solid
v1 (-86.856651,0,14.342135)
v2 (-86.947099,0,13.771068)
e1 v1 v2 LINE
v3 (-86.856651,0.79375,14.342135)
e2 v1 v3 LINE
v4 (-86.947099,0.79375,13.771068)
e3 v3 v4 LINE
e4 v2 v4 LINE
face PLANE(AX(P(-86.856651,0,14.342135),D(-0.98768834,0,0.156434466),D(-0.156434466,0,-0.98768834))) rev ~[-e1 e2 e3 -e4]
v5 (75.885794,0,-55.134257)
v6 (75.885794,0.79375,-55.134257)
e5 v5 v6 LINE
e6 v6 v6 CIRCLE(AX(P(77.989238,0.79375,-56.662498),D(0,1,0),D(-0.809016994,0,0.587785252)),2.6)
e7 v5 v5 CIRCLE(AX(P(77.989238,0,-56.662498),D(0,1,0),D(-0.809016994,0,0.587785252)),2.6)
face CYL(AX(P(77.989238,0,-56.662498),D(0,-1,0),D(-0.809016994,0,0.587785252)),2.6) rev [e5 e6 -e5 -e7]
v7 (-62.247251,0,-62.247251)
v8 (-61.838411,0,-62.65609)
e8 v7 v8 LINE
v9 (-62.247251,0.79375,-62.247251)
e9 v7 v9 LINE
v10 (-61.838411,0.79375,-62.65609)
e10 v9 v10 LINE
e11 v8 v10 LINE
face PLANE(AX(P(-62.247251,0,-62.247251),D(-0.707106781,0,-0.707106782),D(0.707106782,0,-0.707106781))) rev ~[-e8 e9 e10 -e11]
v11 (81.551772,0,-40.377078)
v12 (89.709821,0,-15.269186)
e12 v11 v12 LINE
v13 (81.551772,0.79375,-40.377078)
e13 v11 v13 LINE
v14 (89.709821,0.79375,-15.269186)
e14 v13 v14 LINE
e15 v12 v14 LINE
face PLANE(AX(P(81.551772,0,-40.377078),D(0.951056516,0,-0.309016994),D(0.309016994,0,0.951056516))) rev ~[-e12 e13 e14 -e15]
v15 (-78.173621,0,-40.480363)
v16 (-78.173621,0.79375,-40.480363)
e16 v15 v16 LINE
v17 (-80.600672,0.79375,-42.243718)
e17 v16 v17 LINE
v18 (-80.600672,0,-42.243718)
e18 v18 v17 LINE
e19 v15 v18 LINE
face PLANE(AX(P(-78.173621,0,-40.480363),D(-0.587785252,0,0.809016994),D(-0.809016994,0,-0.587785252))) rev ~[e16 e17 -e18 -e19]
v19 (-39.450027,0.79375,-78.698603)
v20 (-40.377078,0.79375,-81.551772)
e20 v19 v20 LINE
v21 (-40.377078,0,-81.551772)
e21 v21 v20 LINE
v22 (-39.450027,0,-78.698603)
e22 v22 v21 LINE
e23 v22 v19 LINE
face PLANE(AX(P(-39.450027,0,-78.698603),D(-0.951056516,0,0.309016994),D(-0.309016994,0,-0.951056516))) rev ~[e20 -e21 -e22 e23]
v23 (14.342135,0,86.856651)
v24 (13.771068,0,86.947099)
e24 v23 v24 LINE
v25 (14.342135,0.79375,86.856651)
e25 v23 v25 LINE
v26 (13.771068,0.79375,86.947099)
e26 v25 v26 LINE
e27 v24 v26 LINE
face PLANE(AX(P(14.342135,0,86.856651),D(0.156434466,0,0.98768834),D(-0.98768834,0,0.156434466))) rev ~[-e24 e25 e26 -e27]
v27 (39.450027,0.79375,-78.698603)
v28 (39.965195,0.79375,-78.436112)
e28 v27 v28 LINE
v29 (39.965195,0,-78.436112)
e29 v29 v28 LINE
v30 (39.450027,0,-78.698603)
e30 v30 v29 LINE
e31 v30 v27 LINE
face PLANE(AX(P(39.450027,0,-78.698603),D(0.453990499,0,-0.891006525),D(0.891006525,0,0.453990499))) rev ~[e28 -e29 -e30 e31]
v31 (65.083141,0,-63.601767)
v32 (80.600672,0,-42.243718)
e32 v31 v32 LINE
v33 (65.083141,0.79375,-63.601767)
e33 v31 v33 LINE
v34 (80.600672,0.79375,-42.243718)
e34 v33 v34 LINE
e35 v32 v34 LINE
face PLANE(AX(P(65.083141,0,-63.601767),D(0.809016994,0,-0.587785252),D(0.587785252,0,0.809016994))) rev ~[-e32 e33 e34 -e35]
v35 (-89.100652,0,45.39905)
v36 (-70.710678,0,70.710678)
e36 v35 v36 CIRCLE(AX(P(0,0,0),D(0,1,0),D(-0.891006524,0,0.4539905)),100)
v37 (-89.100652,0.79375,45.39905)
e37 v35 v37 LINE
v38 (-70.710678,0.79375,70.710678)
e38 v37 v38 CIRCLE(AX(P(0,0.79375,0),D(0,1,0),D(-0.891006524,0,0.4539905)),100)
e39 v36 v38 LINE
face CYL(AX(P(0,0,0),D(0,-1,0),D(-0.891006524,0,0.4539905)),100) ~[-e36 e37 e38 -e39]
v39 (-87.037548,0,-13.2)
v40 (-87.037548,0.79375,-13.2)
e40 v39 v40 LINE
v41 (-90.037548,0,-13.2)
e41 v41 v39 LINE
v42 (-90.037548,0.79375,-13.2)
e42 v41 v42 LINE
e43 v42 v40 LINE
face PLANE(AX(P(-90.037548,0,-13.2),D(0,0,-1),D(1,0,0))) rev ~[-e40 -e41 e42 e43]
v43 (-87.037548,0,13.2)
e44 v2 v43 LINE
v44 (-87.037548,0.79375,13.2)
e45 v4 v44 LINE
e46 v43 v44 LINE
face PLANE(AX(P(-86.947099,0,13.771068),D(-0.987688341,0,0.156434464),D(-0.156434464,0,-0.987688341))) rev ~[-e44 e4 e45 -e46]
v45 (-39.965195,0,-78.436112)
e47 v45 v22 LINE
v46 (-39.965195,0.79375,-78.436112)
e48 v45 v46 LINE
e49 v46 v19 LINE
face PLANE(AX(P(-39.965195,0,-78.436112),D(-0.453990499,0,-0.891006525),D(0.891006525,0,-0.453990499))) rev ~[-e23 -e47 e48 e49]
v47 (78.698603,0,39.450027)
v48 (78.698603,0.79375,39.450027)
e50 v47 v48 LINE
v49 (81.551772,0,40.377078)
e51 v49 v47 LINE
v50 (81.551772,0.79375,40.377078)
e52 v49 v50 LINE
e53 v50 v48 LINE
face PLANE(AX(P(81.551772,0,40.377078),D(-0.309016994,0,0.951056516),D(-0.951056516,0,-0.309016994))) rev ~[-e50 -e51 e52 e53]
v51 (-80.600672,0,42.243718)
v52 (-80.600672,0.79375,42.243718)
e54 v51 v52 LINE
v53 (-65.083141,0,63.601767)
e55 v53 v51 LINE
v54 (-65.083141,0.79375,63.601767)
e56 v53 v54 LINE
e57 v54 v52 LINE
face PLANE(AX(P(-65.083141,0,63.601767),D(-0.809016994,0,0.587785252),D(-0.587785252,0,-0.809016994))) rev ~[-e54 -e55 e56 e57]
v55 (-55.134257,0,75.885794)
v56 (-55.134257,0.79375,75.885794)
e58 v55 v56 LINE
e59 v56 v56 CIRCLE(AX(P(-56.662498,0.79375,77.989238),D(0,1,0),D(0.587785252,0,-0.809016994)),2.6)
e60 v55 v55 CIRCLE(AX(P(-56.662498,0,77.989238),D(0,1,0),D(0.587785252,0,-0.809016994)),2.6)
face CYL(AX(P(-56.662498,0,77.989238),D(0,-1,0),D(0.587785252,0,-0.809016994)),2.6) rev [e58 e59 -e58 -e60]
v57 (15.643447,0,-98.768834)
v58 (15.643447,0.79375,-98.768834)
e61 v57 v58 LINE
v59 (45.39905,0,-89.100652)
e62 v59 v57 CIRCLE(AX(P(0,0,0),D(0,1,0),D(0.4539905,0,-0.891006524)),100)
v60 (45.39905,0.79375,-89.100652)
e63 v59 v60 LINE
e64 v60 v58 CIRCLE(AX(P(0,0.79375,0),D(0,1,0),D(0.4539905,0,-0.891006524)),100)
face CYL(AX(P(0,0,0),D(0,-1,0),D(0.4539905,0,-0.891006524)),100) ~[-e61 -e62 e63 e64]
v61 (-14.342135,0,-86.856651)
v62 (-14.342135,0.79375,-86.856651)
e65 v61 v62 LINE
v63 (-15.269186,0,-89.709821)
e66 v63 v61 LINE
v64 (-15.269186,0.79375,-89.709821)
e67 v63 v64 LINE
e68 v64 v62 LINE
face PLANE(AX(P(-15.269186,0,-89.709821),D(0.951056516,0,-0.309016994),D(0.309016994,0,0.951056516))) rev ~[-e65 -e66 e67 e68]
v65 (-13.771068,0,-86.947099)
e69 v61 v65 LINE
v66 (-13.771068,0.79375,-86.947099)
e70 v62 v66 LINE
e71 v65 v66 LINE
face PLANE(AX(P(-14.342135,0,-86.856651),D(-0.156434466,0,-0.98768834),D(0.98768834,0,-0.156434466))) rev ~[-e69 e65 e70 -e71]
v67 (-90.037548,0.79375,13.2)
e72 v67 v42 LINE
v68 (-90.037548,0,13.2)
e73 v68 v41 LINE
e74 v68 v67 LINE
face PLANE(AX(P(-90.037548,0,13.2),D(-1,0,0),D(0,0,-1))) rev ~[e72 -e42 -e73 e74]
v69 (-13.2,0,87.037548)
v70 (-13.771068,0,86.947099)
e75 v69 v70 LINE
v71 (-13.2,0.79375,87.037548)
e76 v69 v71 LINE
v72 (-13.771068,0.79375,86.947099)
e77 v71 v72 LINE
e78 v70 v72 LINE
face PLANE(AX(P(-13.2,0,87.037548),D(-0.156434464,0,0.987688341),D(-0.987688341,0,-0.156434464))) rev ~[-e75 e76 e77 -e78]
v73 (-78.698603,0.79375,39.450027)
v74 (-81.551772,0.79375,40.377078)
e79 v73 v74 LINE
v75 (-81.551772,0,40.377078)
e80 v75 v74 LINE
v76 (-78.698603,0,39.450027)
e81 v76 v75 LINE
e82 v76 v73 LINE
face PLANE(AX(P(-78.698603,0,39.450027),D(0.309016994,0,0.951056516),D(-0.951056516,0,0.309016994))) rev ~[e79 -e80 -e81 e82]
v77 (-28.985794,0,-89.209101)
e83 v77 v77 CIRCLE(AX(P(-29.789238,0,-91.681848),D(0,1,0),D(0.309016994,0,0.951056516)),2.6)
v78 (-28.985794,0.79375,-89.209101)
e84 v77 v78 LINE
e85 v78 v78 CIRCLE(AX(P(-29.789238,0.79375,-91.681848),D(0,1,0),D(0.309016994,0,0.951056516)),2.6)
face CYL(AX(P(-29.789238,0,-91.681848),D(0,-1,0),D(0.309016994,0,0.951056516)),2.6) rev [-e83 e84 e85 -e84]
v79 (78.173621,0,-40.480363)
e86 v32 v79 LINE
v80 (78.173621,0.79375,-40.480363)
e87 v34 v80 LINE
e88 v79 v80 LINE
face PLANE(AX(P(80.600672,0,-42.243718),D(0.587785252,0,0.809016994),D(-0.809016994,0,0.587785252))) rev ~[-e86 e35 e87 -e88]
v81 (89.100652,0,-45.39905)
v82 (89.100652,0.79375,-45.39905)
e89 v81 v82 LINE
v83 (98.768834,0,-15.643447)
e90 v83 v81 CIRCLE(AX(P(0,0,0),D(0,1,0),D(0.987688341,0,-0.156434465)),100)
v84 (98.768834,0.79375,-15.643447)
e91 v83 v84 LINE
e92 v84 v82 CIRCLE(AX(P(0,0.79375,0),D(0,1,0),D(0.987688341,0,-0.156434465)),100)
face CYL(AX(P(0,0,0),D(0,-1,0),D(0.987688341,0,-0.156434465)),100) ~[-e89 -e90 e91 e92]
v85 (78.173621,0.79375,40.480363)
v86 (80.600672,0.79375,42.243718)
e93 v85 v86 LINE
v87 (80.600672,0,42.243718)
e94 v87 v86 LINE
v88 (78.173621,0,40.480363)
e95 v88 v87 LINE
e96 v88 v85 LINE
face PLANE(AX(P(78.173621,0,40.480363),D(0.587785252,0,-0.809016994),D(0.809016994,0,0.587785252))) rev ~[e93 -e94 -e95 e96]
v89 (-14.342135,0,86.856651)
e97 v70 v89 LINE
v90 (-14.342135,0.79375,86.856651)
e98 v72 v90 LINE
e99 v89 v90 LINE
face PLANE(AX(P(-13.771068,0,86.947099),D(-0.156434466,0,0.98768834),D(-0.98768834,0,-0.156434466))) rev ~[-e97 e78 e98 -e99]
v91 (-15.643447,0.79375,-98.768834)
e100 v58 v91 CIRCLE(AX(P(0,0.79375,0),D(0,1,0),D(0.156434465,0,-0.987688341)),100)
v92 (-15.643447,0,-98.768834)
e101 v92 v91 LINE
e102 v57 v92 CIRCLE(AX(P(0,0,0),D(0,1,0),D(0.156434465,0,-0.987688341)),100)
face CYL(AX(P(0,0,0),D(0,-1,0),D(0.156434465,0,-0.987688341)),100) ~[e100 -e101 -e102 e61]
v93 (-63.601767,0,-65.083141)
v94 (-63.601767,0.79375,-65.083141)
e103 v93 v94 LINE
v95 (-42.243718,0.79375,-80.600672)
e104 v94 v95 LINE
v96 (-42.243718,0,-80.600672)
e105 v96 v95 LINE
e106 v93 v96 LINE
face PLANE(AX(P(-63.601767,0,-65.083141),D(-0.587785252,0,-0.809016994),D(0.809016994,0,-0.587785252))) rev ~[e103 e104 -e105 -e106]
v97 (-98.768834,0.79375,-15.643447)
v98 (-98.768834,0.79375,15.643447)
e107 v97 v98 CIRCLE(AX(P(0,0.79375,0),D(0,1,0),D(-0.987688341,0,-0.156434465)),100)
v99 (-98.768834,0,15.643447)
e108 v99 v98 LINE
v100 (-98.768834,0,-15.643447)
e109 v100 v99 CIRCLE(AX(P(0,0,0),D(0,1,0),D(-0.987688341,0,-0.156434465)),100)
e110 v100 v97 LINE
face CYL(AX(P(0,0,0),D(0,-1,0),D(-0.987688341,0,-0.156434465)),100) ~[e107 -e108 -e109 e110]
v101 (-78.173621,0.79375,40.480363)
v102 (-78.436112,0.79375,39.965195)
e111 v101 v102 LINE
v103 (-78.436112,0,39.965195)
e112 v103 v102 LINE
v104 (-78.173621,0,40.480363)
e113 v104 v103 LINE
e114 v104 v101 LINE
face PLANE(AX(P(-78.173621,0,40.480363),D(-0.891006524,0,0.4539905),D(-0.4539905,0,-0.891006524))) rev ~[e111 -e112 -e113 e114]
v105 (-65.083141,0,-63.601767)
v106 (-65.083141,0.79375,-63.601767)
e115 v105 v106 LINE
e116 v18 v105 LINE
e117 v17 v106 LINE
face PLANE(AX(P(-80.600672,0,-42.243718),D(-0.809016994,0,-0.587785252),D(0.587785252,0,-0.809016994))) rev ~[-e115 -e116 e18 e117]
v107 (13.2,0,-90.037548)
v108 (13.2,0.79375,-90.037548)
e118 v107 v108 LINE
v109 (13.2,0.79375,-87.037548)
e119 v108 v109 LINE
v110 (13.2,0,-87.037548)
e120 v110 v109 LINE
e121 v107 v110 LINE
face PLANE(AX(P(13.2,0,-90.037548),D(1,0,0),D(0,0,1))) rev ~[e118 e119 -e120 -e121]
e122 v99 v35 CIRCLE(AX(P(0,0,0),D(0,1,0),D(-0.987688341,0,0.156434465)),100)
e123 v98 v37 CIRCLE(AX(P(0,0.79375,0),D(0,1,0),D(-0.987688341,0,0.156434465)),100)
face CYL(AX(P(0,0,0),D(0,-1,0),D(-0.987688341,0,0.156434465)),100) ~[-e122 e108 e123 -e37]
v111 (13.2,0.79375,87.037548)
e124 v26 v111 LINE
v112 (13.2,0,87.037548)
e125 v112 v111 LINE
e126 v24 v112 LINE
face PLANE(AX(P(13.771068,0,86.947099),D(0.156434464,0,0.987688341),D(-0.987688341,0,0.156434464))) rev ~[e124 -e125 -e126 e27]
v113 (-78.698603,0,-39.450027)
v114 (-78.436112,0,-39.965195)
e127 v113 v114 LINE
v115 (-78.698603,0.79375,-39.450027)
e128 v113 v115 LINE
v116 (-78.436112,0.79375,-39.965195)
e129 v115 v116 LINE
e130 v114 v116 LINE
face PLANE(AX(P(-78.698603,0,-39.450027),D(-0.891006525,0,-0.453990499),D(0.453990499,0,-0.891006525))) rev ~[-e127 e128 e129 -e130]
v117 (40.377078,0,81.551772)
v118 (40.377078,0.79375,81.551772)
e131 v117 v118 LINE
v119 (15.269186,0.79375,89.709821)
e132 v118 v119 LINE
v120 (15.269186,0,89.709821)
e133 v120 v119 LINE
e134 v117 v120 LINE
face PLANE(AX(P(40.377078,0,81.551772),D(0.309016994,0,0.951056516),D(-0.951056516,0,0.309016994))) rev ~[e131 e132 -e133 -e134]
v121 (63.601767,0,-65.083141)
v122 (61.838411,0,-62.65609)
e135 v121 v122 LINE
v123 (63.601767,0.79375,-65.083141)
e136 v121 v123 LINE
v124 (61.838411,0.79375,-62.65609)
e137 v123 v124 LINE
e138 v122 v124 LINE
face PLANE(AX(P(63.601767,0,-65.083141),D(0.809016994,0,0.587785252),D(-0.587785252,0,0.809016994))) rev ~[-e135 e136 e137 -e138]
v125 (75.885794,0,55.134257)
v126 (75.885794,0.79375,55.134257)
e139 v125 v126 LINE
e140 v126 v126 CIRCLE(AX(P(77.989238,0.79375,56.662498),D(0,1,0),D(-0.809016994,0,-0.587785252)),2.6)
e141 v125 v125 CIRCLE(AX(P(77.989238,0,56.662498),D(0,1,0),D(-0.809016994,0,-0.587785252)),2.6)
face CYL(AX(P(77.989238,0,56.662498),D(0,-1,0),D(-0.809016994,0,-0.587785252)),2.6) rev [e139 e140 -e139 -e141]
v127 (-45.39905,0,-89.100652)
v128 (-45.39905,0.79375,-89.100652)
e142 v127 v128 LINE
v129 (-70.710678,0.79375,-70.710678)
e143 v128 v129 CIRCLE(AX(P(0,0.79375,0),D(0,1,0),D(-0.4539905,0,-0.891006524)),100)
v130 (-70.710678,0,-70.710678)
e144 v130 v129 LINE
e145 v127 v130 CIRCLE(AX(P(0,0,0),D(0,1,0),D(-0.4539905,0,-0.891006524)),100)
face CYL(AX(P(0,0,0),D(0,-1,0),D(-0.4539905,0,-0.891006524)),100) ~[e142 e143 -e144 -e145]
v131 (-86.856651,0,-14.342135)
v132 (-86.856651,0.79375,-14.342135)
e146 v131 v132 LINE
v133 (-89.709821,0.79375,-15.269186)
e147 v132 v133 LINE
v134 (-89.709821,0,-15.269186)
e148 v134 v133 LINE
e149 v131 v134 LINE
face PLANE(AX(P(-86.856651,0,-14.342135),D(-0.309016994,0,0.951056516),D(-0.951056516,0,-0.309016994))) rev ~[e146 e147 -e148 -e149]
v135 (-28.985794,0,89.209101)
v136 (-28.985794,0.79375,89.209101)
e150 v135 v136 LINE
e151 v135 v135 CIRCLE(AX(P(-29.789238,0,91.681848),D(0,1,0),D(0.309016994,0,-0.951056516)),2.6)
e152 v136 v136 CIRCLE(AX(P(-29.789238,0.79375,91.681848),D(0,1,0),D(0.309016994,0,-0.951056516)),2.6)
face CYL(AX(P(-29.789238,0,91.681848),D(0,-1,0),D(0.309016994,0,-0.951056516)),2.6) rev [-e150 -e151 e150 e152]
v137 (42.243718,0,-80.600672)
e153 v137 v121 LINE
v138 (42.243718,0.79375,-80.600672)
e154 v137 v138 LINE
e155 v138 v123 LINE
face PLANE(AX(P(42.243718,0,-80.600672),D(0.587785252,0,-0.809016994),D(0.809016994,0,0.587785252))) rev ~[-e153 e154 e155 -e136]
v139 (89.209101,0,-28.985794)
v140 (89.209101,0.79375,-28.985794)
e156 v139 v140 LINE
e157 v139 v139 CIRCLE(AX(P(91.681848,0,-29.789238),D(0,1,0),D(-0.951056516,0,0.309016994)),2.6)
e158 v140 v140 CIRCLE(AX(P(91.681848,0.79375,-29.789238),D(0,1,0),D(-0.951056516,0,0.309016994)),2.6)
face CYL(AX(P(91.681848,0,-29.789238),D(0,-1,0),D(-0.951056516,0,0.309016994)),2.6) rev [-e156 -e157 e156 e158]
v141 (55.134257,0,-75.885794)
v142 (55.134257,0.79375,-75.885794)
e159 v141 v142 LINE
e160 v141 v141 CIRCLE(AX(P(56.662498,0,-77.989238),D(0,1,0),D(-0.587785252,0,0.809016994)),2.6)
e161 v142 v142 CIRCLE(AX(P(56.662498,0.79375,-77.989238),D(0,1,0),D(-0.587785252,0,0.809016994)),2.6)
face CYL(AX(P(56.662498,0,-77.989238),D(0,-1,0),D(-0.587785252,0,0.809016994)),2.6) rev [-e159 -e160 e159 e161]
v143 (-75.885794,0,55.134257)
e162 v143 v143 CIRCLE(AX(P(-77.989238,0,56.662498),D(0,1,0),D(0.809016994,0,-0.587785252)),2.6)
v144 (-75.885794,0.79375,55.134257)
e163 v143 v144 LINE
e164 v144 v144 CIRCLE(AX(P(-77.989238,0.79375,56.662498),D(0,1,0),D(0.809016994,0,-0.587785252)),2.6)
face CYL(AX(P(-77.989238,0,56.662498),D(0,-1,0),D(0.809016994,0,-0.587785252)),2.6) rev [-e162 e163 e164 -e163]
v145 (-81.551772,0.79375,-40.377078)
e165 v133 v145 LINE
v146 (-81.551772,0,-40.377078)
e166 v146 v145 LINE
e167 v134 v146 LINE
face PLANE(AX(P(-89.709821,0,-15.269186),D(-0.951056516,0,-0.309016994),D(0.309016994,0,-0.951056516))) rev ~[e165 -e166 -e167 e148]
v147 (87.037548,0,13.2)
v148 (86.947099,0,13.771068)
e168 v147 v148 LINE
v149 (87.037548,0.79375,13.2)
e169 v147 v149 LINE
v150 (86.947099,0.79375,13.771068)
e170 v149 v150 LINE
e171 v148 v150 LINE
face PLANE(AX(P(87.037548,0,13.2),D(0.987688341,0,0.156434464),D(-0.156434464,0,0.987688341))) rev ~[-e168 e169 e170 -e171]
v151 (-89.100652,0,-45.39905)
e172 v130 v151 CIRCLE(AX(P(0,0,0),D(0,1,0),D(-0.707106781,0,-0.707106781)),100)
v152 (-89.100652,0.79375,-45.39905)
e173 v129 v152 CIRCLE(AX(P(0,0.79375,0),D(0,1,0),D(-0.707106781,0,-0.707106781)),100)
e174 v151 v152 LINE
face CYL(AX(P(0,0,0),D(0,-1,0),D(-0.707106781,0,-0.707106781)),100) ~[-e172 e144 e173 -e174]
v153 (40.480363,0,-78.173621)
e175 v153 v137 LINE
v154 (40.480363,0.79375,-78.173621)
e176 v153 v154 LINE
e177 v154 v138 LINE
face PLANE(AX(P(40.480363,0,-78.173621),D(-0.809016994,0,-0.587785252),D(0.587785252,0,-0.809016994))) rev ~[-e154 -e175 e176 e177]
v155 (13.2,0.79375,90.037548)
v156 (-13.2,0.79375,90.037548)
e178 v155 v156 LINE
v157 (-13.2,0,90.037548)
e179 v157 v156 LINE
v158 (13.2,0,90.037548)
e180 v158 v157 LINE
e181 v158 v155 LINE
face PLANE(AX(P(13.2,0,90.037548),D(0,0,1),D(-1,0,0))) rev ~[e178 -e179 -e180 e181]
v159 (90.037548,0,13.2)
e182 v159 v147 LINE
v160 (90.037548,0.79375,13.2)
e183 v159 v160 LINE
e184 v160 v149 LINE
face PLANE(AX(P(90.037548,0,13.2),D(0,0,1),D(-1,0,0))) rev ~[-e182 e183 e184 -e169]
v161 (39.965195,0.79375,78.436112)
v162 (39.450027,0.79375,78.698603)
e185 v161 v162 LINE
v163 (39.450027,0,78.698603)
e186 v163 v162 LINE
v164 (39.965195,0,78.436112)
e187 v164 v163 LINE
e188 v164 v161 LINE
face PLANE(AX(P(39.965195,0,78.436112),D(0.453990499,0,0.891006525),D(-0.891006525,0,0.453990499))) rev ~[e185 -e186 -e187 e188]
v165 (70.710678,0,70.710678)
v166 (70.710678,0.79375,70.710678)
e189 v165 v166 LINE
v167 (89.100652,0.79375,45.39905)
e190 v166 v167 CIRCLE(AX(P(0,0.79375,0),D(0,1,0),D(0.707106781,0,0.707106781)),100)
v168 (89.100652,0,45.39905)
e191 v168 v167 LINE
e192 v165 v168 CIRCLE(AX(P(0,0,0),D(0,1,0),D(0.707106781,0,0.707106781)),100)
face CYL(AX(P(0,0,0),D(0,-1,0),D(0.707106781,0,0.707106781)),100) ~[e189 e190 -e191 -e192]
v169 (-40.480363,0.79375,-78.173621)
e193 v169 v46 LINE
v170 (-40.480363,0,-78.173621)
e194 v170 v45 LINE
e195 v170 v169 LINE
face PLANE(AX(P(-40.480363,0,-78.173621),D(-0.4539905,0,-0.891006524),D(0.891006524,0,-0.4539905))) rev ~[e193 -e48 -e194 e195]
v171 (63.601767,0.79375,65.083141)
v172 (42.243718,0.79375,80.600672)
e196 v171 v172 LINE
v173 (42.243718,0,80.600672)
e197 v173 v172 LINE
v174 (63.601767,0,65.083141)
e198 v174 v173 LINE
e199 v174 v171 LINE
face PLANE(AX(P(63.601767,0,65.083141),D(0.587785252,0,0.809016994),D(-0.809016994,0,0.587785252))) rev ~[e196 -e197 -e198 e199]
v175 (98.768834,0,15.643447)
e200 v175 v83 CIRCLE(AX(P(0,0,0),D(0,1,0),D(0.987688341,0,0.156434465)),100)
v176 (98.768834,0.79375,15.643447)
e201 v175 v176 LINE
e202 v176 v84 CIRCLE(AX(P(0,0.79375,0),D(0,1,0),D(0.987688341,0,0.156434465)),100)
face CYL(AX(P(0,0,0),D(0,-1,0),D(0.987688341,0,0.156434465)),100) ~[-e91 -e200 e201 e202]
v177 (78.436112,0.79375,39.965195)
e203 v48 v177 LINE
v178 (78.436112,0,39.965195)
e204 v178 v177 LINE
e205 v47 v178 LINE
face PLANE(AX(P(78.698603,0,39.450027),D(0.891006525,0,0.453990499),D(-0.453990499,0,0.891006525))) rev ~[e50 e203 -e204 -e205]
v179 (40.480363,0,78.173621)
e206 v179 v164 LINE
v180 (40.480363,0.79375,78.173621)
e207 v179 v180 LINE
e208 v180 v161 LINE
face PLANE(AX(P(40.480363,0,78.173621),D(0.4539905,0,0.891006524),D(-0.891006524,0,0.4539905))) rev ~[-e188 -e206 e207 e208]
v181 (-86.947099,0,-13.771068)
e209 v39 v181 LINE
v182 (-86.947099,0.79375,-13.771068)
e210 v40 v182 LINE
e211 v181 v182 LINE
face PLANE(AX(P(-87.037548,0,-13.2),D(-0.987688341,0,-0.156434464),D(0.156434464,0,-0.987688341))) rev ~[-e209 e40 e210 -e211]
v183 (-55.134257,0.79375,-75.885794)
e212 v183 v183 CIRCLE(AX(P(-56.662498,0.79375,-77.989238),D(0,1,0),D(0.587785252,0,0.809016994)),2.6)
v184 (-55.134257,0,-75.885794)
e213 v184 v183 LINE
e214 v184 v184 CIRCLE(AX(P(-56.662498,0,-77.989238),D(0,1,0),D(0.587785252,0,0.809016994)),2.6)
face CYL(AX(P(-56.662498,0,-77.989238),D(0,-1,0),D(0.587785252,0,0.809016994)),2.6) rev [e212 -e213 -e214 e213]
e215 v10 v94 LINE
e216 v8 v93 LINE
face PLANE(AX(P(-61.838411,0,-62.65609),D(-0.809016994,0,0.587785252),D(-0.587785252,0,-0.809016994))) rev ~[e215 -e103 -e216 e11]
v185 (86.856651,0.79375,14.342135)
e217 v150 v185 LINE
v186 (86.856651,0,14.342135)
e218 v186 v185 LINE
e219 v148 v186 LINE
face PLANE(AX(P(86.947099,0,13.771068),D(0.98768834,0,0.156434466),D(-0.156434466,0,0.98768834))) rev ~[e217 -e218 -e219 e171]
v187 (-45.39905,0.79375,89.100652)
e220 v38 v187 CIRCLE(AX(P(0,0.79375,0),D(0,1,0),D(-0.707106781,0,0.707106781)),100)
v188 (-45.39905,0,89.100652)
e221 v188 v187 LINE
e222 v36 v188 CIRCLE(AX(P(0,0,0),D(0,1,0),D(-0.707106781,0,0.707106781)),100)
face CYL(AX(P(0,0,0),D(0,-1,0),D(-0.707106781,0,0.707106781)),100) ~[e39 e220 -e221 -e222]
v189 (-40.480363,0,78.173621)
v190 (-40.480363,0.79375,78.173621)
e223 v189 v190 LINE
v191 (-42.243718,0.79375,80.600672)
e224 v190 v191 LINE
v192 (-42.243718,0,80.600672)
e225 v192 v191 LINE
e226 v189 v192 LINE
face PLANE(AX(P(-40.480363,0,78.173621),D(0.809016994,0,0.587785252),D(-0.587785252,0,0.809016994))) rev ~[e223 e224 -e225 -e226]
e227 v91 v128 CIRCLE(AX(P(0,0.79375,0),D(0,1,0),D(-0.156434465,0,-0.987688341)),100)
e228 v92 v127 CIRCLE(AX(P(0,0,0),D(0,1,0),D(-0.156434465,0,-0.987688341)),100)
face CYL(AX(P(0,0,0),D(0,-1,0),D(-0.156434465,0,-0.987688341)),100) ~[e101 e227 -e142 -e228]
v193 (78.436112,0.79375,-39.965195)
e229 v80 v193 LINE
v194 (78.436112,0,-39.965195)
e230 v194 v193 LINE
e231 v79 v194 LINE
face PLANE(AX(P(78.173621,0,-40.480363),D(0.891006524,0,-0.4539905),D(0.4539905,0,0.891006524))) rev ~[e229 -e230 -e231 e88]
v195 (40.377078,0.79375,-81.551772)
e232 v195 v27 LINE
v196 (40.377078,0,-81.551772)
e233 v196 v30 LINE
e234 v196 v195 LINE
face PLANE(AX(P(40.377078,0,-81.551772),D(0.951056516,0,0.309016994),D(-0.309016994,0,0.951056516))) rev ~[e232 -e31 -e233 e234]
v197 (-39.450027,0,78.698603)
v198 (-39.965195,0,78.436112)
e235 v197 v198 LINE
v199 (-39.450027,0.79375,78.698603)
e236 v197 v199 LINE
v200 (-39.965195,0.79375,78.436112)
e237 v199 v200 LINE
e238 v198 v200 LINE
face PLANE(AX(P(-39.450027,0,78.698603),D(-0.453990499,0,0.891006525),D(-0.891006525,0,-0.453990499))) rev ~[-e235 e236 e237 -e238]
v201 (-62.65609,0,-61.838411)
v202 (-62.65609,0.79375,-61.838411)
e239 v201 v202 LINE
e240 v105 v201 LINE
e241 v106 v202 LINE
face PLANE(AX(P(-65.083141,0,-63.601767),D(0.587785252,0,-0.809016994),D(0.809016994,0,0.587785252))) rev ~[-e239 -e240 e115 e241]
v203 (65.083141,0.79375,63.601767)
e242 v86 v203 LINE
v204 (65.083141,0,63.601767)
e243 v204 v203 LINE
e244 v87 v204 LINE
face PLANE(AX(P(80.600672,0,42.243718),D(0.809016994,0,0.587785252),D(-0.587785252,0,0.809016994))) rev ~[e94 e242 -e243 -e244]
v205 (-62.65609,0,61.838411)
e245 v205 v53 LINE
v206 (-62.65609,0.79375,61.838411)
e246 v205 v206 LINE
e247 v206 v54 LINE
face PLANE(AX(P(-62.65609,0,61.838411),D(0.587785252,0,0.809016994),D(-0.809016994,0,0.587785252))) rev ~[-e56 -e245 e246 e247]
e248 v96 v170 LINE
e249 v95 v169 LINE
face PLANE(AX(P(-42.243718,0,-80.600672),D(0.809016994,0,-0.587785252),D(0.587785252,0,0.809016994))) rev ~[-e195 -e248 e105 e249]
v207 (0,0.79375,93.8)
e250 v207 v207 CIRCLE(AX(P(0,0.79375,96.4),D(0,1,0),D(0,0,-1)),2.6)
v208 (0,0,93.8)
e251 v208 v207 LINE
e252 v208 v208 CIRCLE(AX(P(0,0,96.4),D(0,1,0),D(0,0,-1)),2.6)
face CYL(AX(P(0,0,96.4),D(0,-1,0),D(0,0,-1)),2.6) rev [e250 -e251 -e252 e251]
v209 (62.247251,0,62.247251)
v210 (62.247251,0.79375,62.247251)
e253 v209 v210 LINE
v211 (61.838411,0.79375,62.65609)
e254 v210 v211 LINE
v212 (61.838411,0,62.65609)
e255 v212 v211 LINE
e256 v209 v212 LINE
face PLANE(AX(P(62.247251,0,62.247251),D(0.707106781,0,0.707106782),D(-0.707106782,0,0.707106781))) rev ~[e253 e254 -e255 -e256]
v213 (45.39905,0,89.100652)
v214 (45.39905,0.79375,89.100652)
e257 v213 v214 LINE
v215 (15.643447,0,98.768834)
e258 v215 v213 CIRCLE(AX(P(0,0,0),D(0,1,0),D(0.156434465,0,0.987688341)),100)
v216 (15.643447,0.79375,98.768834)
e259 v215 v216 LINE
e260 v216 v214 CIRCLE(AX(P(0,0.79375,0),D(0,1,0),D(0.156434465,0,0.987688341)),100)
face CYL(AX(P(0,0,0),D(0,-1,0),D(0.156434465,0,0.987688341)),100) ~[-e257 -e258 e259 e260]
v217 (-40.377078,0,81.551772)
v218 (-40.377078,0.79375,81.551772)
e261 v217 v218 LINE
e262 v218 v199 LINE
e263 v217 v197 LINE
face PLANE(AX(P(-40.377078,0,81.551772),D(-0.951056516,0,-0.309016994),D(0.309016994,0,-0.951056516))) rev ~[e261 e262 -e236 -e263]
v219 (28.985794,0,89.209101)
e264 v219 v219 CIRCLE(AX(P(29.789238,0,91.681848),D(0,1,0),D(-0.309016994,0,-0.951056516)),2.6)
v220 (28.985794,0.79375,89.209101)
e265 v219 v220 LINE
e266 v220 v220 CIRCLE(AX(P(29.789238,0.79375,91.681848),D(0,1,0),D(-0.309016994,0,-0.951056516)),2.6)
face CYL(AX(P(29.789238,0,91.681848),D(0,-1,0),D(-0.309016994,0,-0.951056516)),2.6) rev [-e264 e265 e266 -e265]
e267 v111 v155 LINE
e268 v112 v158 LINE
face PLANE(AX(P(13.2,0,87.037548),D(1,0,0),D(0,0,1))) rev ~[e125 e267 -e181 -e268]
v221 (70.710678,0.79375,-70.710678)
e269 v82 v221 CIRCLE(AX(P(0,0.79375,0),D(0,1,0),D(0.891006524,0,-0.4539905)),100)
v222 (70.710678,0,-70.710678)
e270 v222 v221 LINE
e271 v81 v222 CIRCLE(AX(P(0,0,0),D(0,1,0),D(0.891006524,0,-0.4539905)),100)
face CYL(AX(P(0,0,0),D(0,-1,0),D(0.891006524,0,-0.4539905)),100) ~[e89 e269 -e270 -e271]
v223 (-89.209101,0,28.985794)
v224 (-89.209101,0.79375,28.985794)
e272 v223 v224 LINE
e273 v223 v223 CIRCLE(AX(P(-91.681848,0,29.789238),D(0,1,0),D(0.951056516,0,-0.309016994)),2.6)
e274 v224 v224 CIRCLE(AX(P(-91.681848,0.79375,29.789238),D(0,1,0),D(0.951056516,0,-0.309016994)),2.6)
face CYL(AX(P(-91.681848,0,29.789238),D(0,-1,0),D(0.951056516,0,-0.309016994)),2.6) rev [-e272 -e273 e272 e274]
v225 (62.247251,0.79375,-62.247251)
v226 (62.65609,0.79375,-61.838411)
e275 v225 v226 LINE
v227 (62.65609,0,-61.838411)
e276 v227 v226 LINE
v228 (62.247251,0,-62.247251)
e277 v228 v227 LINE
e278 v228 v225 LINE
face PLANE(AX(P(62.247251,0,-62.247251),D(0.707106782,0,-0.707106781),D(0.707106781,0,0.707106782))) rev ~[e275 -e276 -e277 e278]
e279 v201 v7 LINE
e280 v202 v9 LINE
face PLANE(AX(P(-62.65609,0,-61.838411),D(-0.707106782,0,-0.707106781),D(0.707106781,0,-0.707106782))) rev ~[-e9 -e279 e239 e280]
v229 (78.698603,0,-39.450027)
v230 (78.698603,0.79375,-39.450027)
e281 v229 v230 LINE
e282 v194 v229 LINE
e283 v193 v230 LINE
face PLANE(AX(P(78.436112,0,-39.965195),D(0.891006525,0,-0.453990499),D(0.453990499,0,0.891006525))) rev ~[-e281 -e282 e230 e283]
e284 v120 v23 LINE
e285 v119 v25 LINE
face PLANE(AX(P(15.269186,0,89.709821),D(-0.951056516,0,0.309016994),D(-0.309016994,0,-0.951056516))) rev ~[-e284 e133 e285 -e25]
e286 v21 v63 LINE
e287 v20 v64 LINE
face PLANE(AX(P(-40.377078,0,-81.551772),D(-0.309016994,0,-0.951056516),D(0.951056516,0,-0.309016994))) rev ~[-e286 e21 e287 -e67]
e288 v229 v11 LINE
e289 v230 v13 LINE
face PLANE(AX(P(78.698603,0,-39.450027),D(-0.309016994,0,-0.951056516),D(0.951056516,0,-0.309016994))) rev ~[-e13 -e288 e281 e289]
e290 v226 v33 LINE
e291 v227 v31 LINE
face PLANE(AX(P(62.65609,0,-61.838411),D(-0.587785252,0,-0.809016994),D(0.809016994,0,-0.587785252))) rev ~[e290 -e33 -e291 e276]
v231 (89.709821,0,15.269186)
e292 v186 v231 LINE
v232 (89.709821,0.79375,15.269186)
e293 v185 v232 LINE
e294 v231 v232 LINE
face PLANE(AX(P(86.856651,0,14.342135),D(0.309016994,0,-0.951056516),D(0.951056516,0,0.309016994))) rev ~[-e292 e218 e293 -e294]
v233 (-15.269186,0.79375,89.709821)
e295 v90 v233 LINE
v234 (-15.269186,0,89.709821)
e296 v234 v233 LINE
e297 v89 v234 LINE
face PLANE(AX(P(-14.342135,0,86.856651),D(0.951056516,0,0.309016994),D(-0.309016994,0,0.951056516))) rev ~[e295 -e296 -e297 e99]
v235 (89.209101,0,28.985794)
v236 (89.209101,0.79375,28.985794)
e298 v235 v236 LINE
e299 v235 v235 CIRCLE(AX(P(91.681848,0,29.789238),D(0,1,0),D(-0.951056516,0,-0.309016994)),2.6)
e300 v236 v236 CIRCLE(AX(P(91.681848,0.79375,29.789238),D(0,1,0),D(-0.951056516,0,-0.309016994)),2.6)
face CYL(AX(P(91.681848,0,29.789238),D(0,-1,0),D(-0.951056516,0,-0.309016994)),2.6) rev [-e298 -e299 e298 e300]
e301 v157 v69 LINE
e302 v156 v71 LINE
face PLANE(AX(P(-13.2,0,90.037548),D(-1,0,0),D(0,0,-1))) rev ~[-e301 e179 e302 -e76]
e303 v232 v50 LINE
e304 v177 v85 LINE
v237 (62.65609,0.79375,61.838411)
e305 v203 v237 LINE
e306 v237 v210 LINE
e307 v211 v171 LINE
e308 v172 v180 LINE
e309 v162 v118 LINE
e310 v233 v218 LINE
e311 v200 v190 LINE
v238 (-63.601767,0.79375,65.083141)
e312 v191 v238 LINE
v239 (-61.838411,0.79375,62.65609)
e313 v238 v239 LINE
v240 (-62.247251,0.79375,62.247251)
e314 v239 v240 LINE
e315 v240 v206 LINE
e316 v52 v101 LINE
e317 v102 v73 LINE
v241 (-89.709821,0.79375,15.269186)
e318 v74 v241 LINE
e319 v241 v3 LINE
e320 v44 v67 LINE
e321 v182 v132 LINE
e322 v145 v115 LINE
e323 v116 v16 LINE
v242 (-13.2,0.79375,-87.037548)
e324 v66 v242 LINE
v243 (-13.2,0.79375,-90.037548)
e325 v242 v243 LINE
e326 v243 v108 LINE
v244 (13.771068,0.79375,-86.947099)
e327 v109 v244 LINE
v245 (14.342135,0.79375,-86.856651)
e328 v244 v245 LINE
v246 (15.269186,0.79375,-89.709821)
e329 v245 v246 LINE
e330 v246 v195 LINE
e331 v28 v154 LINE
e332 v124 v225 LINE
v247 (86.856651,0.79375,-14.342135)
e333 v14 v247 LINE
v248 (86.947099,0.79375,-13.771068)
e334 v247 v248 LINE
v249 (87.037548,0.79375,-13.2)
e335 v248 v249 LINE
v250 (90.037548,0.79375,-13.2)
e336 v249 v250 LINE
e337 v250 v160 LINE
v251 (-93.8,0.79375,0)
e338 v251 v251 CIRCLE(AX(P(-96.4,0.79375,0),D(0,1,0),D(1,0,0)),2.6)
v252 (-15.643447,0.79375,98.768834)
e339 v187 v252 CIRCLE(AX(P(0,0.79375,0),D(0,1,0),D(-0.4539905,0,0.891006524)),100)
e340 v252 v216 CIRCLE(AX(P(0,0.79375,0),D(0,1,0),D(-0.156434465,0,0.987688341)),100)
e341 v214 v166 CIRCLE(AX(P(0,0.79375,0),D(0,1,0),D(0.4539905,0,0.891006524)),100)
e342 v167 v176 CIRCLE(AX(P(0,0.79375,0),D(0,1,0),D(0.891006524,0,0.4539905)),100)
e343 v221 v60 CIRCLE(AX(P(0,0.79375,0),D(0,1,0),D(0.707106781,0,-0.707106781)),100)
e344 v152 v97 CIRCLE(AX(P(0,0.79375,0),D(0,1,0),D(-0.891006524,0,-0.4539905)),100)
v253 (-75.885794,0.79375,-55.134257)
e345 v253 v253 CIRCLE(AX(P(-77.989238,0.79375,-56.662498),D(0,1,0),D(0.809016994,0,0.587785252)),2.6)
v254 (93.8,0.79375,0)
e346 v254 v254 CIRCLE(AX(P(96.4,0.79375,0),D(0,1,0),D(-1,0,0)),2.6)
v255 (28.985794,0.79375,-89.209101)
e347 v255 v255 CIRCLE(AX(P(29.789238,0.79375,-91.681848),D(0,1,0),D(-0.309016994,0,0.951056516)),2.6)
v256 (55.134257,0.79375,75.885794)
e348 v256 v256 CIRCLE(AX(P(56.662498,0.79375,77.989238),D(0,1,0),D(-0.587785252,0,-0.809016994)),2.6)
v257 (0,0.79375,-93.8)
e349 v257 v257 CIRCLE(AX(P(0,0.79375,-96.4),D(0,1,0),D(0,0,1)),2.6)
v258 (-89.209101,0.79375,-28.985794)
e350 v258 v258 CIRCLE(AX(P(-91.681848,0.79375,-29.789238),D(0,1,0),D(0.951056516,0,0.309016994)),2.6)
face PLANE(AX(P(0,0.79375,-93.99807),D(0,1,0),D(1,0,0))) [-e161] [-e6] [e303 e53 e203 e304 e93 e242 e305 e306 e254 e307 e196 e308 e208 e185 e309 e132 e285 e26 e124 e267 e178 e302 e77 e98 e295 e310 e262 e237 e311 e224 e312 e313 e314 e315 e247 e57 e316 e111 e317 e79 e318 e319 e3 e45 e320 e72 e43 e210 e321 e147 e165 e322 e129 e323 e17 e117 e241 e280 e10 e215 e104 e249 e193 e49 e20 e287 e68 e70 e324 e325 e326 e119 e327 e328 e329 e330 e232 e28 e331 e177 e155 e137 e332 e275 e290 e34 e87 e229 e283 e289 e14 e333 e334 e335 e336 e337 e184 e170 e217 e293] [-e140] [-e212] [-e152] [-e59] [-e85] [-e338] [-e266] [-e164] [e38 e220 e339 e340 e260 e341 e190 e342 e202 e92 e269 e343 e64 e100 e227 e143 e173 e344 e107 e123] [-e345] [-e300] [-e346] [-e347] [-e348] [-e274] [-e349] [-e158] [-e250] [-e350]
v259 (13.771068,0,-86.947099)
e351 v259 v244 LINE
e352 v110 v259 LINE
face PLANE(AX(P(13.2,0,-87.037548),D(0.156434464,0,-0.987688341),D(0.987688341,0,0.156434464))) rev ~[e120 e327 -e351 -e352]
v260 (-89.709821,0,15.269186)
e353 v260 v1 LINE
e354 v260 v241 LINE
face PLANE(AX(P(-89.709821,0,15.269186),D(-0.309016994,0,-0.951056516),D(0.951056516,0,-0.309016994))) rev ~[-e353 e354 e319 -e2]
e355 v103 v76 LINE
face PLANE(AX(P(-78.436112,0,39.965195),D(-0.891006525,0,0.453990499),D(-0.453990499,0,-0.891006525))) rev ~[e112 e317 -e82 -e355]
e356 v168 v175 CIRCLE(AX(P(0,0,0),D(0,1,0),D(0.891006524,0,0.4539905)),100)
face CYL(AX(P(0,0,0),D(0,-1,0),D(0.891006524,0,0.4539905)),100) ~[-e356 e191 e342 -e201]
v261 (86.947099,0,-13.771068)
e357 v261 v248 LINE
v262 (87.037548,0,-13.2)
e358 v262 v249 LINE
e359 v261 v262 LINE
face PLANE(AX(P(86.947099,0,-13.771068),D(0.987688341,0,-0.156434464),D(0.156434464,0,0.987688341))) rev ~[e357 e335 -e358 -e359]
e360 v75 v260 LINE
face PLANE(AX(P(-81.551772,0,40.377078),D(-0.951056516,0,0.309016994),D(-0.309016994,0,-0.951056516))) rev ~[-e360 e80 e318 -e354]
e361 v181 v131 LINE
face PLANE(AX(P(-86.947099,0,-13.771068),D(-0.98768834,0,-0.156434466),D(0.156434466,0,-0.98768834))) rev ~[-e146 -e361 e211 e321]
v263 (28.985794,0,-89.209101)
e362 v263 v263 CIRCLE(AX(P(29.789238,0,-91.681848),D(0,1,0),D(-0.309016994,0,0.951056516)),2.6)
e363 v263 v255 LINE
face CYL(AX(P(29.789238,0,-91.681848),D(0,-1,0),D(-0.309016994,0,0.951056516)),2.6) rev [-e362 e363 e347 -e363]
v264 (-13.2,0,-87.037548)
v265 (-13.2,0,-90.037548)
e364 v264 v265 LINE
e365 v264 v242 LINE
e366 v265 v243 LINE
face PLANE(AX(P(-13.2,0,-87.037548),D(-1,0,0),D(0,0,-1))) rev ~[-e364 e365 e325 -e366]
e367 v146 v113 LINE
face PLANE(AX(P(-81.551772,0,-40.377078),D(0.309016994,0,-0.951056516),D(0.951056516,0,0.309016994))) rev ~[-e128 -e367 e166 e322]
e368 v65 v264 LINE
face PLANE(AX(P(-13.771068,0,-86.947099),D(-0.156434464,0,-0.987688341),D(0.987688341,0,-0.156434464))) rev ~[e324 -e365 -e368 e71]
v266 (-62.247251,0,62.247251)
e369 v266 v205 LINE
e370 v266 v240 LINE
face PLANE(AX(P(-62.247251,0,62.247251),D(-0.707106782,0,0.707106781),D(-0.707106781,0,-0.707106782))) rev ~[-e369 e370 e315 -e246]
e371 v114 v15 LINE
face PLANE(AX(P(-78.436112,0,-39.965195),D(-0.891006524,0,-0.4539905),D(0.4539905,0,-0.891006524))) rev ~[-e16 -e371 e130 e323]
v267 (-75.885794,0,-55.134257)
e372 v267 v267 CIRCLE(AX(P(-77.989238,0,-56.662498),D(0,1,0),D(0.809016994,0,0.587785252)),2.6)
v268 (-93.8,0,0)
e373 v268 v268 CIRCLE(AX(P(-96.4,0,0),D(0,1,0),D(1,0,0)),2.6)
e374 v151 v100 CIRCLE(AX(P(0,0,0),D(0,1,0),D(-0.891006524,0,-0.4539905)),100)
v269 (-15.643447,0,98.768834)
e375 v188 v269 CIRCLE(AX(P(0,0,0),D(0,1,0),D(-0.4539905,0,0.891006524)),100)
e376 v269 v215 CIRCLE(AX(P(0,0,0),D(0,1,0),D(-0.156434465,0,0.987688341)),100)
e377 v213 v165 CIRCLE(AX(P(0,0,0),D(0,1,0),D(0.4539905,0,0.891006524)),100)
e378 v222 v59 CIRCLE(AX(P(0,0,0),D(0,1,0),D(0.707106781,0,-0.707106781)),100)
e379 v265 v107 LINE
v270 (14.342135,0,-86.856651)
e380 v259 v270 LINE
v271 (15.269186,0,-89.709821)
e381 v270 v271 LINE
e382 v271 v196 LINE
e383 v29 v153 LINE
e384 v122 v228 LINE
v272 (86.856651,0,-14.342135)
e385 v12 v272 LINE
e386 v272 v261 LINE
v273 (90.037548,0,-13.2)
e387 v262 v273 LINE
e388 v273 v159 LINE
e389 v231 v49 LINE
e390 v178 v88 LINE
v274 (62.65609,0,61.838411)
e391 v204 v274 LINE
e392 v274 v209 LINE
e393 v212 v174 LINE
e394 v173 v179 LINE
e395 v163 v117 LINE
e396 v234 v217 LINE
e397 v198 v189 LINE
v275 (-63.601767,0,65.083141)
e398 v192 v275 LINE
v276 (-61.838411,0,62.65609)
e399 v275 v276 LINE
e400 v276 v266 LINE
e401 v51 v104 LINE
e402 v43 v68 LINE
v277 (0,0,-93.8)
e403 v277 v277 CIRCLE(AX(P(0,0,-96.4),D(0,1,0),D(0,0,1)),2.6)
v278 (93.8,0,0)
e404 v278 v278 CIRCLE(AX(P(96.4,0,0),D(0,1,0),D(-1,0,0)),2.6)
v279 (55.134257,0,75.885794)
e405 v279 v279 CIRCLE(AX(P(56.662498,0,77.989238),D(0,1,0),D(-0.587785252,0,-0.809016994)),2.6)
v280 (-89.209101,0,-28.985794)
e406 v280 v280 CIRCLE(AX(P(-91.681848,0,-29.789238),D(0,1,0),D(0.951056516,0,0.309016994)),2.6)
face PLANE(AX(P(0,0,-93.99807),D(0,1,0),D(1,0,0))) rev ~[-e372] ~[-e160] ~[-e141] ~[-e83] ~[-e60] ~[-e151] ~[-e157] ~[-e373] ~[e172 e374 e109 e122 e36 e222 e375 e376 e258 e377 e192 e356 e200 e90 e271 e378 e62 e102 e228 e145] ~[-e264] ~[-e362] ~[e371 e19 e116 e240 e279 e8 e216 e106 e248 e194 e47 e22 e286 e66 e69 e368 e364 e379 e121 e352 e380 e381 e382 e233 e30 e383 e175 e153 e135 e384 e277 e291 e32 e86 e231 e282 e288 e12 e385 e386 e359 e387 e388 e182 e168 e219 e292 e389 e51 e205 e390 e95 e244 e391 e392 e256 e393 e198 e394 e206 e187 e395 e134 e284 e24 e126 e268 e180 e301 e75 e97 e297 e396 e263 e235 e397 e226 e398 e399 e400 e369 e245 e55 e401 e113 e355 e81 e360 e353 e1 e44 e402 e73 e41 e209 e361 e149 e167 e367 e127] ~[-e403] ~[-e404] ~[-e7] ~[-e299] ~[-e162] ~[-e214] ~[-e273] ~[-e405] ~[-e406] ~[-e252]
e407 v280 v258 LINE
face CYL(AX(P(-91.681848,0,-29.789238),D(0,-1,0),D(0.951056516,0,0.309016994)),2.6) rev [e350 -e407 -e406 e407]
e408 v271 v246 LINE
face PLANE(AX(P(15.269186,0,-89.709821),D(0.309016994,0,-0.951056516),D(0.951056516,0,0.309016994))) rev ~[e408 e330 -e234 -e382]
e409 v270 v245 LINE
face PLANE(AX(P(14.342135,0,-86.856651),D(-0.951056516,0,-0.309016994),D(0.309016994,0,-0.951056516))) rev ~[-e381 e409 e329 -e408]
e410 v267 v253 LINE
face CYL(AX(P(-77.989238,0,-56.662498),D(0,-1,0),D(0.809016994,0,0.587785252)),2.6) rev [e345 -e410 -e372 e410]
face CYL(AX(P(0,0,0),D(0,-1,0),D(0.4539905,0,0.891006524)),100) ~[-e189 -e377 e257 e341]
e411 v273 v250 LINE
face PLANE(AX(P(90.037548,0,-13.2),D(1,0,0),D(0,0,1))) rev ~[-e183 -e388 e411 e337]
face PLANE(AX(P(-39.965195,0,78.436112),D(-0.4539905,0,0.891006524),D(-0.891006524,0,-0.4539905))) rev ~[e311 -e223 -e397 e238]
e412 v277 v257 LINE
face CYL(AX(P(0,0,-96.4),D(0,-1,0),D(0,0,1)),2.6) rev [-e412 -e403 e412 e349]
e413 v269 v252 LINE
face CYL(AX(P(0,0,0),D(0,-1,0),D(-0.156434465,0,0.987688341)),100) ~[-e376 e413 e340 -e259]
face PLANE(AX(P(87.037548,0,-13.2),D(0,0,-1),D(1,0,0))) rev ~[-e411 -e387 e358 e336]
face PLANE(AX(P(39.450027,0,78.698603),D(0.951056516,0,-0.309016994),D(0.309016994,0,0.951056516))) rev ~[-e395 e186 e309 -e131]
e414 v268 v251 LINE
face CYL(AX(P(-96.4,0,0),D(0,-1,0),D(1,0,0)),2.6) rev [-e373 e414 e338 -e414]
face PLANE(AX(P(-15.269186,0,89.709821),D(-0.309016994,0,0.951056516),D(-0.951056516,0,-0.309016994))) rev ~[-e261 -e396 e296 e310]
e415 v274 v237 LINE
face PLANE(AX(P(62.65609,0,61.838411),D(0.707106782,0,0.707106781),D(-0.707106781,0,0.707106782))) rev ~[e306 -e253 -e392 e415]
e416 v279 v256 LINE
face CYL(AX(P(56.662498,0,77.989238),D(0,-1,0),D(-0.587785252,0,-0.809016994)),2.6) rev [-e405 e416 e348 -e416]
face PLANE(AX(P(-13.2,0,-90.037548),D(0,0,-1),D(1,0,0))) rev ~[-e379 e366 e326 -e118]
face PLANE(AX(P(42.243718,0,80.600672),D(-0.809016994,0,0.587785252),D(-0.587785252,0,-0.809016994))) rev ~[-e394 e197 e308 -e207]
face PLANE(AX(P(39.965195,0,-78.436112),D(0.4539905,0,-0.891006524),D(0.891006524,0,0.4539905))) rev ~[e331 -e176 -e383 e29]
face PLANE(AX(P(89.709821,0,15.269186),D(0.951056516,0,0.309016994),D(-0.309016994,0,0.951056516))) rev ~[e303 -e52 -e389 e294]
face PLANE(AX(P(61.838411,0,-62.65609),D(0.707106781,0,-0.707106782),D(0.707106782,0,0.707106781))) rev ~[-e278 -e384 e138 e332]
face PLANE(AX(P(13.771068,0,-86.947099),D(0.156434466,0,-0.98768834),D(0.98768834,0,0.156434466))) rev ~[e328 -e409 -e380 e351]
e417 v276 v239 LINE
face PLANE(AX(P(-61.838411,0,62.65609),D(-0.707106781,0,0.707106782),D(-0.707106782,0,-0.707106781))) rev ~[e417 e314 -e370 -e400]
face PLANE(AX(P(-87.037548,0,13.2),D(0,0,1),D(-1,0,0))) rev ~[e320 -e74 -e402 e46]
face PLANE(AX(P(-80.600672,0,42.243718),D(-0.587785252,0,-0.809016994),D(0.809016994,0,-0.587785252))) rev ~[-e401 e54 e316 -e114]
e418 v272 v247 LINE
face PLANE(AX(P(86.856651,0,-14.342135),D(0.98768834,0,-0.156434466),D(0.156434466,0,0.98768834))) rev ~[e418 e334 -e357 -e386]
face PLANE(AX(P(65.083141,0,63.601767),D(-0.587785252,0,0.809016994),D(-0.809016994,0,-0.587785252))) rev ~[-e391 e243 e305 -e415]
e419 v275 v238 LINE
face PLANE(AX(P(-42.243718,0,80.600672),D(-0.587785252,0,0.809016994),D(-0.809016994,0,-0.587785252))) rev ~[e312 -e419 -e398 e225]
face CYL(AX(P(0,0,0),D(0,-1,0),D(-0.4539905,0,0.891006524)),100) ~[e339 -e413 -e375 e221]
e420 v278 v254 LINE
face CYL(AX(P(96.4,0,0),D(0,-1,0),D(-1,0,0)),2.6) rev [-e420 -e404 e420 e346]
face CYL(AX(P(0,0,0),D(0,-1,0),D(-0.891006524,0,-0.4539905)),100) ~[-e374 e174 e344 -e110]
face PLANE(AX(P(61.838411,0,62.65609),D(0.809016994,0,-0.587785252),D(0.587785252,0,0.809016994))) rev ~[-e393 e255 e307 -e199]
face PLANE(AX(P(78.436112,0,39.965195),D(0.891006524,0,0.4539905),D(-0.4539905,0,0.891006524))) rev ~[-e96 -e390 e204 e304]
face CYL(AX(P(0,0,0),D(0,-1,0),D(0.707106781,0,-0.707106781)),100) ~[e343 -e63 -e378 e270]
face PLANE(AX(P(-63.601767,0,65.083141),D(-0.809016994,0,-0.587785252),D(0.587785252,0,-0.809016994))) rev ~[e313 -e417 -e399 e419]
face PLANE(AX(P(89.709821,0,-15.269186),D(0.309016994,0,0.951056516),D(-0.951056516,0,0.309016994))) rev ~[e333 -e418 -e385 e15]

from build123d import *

# Parameters (mm, degrees)
SKETCH1_R           = 2.6
BOSS_EXTRUDE1_DEPTH = 0.79375
CIRPATTERN1_COUNT   = 20


with BuildPart() as part:
    # Sketch1 → Boss-Extrude1 (new body)
    with BuildSketch(Plane(origin=(0, 0, 0), x_dir=(1, 0, 0), z_dir=(0, 1, 0))):
        with BuildLine():
            Line((-15.643446504, 98.76883406), (-13.77106769, 86.947099487))
            Line((-13.77106769, 86.947099487), (-13.2, 87.037547723))
            Line((-13.2, 87.037547723), (-13.2, 90.037547723))
            Line((-13.2, 90.037547723), (13.2, 90.037547723))
            Line((13.2, 90.037547723), (13.2, 87.037547723))
            Line((13.2, 87.037547723), (13.77106769, 86.947099487))
            Line((13.77106769, 86.947099487), (15.643446504, 98.76883406))
            ThreePointArc((15.643446504, 98.76883406), (0, 100), (-15.643446504, 98.76883406))
        make_face()
        with Locations(Location((0, 96.4, 0), (0, 0, 270))):
            Circle(SKETCH1_R, mode=Mode.SUBTRACT)
    extrude(amount=BOSS_EXTRUDE1_DEPTH)


with BuildPart() as cirpattern1_1:
    # CirPattern1: pattern copy
    add(part.part.rotate(Axis((0, 0, 0), (0, 1, 0)), 1 * 360 / CIRPATTERN1_COUNT))


with BuildPart() as cirpattern1_2:
    # CirPattern1: pattern copy
    add(part.part.rotate(Axis((0, 0, 0), (0, 1, 0)), 2 * 360 / CIRPATTERN1_COUNT))


with BuildPart() as cirpattern1_3:
    # CirPattern1: pattern copy
    add(part.part.rotate(Axis((0, 0, 0), (0, 1, 0)), 3 * 360 / CIRPATTERN1_COUNT))


with BuildPart() as cirpattern1_4:
    # CirPattern1: pattern copy
    add(part.part.rotate(Axis((0, 0, 0), (0, 1, 0)), 4 * 360 / CIRPATTERN1_COUNT))


with BuildPart() as cirpattern1_5:
    # CirPattern1: pattern copy
    add(part.part.rotate(Axis((0, 0, 0), (0, 1, 0)), 5 * 360 / CIRPATTERN1_COUNT))


with BuildPart() as cirpattern1_6:
    # CirPattern1: pattern copy
    add(part.part.rotate(Axis((0, 0, 0), (0, 1, 0)), 6 * 360 / CIRPATTERN1_COUNT))


with BuildPart() as cirpattern1_7:
    # CirPattern1: pattern copy
    add(part.part.rotate(Axis((0, 0, 0), (0, 1, 0)), 7 * 360 / CIRPATTERN1_COUNT))


with BuildPart() as cirpattern1_8:
    # CirPattern1: pattern copy
    add(part.part.rotate(Axis((0, 0, 0), (0, 1, 0)), 8 * 360 / CIRPATTERN1_COUNT))


with BuildPart() as cirpattern1_9:
    # CirPattern1: pattern copy
    add(part.part.rotate(Axis((0, 0, 0), (0, 1, 0)), 9 * 360 / CIRPATTERN1_COUNT))


with BuildPart() as cirpattern1_10:
    # CirPattern1: pattern copy
    add(part.part.rotate(Axis((0, 0, 0), (0, 1, 0)), 10 * 360 / CIRPATTERN1_COUNT))


with BuildPart() as cirpattern1_11:
    # CirPattern1: pattern copy
    add(part.part.rotate(Axis((0, 0, 0), (0, 1, 0)), 11 * 360 / CIRPATTERN1_COUNT))


with BuildPart() as cirpattern1_12:
    # CirPattern1: pattern copy
    add(part.part.rotate(Axis((0, 0, 0), (0, 1, 0)), 12 * 360 / CIRPATTERN1_COUNT))


with BuildPart() as cirpattern1_13:
    # CirPattern1: pattern copy
    add(part.part.rotate(Axis((0, 0, 0), (0, 1, 0)), 13 * 360 / CIRPATTERN1_COUNT))


with BuildPart() as cirpattern1_14:
    # CirPattern1: pattern copy
    add(part.part.rotate(Axis((0, 0, 0), (0, 1, 0)), 14 * 360 / CIRPATTERN1_COUNT))


with BuildPart() as cirpattern1_15:
    # CirPattern1: pattern copy
    add(part.part.rotate(Axis((0, 0, 0), (0, 1, 0)), 15 * 360 / CIRPATTERN1_COUNT))


with BuildPart() as cirpattern1_16:
    # CirPattern1: pattern copy
    add(part.part.rotate(Axis((0, 0, 0), (0, 1, 0)), 16 * 360 / CIRPATTERN1_COUNT))


with BuildPart() as cirpattern1_17:
    # CirPattern1: pattern copy
    add(part.part.rotate(Axis((0, 0, 0), (0, 1, 0)), 17 * 360 / CIRPATTERN1_COUNT))


with BuildPart() as cirpattern1_18:
    # CirPattern1: pattern copy
    add(part.part.rotate(Axis((0, 0, 0), (0, 1, 0)), 18 * 360 / CIRPATTERN1_COUNT))


with BuildPart() as cirpattern1_19:
    # CirPattern1: pattern copy
    add(part.part.rotate(Axis((0, 0, 0), (0, 1, 0)), 19 * 360 / CIRPATTERN1_COUNT))

    # Combine1: union CirPattern1_18, CirPattern1_17, CirPattern1_16, CirPattern1_15, CirPattern1_14, CirPattern1_13, CirPattern1_12, CirPattern1_11, CirPattern1_10, CirPattern1_9, CirPattern1_8, CirPattern1_7, CirPattern1_6, CirPattern1_5, CirPattern1_4, CirPattern1_3, CirPattern1_2, CirPattern1_1, part
    add(cirpattern1_18.part)
    add(cirpattern1_17.part)
    add(cirpattern1_16.part)
    add(cirpattern1_15.part)
    add(cirpattern1_14.part)
    add(cirpattern1_13.part)
    add(cirpattern1_12.part)
    add(cirpattern1_11.part)
    add(cirpattern1_10.part)
    add(cirpattern1_9.part)
    add(cirpattern1_8.part)
    add(cirpattern1_7.part)
    add(cirpattern1_6.part)
    add(cirpattern1_5.part)
    add(cirpattern1_4.part)
    add(cirpattern1_3.part)
    add(cirpattern1_2.part)
    add(cirpattern1_1.part)
    add(part.part)


solid = cirpattern1_19.part
